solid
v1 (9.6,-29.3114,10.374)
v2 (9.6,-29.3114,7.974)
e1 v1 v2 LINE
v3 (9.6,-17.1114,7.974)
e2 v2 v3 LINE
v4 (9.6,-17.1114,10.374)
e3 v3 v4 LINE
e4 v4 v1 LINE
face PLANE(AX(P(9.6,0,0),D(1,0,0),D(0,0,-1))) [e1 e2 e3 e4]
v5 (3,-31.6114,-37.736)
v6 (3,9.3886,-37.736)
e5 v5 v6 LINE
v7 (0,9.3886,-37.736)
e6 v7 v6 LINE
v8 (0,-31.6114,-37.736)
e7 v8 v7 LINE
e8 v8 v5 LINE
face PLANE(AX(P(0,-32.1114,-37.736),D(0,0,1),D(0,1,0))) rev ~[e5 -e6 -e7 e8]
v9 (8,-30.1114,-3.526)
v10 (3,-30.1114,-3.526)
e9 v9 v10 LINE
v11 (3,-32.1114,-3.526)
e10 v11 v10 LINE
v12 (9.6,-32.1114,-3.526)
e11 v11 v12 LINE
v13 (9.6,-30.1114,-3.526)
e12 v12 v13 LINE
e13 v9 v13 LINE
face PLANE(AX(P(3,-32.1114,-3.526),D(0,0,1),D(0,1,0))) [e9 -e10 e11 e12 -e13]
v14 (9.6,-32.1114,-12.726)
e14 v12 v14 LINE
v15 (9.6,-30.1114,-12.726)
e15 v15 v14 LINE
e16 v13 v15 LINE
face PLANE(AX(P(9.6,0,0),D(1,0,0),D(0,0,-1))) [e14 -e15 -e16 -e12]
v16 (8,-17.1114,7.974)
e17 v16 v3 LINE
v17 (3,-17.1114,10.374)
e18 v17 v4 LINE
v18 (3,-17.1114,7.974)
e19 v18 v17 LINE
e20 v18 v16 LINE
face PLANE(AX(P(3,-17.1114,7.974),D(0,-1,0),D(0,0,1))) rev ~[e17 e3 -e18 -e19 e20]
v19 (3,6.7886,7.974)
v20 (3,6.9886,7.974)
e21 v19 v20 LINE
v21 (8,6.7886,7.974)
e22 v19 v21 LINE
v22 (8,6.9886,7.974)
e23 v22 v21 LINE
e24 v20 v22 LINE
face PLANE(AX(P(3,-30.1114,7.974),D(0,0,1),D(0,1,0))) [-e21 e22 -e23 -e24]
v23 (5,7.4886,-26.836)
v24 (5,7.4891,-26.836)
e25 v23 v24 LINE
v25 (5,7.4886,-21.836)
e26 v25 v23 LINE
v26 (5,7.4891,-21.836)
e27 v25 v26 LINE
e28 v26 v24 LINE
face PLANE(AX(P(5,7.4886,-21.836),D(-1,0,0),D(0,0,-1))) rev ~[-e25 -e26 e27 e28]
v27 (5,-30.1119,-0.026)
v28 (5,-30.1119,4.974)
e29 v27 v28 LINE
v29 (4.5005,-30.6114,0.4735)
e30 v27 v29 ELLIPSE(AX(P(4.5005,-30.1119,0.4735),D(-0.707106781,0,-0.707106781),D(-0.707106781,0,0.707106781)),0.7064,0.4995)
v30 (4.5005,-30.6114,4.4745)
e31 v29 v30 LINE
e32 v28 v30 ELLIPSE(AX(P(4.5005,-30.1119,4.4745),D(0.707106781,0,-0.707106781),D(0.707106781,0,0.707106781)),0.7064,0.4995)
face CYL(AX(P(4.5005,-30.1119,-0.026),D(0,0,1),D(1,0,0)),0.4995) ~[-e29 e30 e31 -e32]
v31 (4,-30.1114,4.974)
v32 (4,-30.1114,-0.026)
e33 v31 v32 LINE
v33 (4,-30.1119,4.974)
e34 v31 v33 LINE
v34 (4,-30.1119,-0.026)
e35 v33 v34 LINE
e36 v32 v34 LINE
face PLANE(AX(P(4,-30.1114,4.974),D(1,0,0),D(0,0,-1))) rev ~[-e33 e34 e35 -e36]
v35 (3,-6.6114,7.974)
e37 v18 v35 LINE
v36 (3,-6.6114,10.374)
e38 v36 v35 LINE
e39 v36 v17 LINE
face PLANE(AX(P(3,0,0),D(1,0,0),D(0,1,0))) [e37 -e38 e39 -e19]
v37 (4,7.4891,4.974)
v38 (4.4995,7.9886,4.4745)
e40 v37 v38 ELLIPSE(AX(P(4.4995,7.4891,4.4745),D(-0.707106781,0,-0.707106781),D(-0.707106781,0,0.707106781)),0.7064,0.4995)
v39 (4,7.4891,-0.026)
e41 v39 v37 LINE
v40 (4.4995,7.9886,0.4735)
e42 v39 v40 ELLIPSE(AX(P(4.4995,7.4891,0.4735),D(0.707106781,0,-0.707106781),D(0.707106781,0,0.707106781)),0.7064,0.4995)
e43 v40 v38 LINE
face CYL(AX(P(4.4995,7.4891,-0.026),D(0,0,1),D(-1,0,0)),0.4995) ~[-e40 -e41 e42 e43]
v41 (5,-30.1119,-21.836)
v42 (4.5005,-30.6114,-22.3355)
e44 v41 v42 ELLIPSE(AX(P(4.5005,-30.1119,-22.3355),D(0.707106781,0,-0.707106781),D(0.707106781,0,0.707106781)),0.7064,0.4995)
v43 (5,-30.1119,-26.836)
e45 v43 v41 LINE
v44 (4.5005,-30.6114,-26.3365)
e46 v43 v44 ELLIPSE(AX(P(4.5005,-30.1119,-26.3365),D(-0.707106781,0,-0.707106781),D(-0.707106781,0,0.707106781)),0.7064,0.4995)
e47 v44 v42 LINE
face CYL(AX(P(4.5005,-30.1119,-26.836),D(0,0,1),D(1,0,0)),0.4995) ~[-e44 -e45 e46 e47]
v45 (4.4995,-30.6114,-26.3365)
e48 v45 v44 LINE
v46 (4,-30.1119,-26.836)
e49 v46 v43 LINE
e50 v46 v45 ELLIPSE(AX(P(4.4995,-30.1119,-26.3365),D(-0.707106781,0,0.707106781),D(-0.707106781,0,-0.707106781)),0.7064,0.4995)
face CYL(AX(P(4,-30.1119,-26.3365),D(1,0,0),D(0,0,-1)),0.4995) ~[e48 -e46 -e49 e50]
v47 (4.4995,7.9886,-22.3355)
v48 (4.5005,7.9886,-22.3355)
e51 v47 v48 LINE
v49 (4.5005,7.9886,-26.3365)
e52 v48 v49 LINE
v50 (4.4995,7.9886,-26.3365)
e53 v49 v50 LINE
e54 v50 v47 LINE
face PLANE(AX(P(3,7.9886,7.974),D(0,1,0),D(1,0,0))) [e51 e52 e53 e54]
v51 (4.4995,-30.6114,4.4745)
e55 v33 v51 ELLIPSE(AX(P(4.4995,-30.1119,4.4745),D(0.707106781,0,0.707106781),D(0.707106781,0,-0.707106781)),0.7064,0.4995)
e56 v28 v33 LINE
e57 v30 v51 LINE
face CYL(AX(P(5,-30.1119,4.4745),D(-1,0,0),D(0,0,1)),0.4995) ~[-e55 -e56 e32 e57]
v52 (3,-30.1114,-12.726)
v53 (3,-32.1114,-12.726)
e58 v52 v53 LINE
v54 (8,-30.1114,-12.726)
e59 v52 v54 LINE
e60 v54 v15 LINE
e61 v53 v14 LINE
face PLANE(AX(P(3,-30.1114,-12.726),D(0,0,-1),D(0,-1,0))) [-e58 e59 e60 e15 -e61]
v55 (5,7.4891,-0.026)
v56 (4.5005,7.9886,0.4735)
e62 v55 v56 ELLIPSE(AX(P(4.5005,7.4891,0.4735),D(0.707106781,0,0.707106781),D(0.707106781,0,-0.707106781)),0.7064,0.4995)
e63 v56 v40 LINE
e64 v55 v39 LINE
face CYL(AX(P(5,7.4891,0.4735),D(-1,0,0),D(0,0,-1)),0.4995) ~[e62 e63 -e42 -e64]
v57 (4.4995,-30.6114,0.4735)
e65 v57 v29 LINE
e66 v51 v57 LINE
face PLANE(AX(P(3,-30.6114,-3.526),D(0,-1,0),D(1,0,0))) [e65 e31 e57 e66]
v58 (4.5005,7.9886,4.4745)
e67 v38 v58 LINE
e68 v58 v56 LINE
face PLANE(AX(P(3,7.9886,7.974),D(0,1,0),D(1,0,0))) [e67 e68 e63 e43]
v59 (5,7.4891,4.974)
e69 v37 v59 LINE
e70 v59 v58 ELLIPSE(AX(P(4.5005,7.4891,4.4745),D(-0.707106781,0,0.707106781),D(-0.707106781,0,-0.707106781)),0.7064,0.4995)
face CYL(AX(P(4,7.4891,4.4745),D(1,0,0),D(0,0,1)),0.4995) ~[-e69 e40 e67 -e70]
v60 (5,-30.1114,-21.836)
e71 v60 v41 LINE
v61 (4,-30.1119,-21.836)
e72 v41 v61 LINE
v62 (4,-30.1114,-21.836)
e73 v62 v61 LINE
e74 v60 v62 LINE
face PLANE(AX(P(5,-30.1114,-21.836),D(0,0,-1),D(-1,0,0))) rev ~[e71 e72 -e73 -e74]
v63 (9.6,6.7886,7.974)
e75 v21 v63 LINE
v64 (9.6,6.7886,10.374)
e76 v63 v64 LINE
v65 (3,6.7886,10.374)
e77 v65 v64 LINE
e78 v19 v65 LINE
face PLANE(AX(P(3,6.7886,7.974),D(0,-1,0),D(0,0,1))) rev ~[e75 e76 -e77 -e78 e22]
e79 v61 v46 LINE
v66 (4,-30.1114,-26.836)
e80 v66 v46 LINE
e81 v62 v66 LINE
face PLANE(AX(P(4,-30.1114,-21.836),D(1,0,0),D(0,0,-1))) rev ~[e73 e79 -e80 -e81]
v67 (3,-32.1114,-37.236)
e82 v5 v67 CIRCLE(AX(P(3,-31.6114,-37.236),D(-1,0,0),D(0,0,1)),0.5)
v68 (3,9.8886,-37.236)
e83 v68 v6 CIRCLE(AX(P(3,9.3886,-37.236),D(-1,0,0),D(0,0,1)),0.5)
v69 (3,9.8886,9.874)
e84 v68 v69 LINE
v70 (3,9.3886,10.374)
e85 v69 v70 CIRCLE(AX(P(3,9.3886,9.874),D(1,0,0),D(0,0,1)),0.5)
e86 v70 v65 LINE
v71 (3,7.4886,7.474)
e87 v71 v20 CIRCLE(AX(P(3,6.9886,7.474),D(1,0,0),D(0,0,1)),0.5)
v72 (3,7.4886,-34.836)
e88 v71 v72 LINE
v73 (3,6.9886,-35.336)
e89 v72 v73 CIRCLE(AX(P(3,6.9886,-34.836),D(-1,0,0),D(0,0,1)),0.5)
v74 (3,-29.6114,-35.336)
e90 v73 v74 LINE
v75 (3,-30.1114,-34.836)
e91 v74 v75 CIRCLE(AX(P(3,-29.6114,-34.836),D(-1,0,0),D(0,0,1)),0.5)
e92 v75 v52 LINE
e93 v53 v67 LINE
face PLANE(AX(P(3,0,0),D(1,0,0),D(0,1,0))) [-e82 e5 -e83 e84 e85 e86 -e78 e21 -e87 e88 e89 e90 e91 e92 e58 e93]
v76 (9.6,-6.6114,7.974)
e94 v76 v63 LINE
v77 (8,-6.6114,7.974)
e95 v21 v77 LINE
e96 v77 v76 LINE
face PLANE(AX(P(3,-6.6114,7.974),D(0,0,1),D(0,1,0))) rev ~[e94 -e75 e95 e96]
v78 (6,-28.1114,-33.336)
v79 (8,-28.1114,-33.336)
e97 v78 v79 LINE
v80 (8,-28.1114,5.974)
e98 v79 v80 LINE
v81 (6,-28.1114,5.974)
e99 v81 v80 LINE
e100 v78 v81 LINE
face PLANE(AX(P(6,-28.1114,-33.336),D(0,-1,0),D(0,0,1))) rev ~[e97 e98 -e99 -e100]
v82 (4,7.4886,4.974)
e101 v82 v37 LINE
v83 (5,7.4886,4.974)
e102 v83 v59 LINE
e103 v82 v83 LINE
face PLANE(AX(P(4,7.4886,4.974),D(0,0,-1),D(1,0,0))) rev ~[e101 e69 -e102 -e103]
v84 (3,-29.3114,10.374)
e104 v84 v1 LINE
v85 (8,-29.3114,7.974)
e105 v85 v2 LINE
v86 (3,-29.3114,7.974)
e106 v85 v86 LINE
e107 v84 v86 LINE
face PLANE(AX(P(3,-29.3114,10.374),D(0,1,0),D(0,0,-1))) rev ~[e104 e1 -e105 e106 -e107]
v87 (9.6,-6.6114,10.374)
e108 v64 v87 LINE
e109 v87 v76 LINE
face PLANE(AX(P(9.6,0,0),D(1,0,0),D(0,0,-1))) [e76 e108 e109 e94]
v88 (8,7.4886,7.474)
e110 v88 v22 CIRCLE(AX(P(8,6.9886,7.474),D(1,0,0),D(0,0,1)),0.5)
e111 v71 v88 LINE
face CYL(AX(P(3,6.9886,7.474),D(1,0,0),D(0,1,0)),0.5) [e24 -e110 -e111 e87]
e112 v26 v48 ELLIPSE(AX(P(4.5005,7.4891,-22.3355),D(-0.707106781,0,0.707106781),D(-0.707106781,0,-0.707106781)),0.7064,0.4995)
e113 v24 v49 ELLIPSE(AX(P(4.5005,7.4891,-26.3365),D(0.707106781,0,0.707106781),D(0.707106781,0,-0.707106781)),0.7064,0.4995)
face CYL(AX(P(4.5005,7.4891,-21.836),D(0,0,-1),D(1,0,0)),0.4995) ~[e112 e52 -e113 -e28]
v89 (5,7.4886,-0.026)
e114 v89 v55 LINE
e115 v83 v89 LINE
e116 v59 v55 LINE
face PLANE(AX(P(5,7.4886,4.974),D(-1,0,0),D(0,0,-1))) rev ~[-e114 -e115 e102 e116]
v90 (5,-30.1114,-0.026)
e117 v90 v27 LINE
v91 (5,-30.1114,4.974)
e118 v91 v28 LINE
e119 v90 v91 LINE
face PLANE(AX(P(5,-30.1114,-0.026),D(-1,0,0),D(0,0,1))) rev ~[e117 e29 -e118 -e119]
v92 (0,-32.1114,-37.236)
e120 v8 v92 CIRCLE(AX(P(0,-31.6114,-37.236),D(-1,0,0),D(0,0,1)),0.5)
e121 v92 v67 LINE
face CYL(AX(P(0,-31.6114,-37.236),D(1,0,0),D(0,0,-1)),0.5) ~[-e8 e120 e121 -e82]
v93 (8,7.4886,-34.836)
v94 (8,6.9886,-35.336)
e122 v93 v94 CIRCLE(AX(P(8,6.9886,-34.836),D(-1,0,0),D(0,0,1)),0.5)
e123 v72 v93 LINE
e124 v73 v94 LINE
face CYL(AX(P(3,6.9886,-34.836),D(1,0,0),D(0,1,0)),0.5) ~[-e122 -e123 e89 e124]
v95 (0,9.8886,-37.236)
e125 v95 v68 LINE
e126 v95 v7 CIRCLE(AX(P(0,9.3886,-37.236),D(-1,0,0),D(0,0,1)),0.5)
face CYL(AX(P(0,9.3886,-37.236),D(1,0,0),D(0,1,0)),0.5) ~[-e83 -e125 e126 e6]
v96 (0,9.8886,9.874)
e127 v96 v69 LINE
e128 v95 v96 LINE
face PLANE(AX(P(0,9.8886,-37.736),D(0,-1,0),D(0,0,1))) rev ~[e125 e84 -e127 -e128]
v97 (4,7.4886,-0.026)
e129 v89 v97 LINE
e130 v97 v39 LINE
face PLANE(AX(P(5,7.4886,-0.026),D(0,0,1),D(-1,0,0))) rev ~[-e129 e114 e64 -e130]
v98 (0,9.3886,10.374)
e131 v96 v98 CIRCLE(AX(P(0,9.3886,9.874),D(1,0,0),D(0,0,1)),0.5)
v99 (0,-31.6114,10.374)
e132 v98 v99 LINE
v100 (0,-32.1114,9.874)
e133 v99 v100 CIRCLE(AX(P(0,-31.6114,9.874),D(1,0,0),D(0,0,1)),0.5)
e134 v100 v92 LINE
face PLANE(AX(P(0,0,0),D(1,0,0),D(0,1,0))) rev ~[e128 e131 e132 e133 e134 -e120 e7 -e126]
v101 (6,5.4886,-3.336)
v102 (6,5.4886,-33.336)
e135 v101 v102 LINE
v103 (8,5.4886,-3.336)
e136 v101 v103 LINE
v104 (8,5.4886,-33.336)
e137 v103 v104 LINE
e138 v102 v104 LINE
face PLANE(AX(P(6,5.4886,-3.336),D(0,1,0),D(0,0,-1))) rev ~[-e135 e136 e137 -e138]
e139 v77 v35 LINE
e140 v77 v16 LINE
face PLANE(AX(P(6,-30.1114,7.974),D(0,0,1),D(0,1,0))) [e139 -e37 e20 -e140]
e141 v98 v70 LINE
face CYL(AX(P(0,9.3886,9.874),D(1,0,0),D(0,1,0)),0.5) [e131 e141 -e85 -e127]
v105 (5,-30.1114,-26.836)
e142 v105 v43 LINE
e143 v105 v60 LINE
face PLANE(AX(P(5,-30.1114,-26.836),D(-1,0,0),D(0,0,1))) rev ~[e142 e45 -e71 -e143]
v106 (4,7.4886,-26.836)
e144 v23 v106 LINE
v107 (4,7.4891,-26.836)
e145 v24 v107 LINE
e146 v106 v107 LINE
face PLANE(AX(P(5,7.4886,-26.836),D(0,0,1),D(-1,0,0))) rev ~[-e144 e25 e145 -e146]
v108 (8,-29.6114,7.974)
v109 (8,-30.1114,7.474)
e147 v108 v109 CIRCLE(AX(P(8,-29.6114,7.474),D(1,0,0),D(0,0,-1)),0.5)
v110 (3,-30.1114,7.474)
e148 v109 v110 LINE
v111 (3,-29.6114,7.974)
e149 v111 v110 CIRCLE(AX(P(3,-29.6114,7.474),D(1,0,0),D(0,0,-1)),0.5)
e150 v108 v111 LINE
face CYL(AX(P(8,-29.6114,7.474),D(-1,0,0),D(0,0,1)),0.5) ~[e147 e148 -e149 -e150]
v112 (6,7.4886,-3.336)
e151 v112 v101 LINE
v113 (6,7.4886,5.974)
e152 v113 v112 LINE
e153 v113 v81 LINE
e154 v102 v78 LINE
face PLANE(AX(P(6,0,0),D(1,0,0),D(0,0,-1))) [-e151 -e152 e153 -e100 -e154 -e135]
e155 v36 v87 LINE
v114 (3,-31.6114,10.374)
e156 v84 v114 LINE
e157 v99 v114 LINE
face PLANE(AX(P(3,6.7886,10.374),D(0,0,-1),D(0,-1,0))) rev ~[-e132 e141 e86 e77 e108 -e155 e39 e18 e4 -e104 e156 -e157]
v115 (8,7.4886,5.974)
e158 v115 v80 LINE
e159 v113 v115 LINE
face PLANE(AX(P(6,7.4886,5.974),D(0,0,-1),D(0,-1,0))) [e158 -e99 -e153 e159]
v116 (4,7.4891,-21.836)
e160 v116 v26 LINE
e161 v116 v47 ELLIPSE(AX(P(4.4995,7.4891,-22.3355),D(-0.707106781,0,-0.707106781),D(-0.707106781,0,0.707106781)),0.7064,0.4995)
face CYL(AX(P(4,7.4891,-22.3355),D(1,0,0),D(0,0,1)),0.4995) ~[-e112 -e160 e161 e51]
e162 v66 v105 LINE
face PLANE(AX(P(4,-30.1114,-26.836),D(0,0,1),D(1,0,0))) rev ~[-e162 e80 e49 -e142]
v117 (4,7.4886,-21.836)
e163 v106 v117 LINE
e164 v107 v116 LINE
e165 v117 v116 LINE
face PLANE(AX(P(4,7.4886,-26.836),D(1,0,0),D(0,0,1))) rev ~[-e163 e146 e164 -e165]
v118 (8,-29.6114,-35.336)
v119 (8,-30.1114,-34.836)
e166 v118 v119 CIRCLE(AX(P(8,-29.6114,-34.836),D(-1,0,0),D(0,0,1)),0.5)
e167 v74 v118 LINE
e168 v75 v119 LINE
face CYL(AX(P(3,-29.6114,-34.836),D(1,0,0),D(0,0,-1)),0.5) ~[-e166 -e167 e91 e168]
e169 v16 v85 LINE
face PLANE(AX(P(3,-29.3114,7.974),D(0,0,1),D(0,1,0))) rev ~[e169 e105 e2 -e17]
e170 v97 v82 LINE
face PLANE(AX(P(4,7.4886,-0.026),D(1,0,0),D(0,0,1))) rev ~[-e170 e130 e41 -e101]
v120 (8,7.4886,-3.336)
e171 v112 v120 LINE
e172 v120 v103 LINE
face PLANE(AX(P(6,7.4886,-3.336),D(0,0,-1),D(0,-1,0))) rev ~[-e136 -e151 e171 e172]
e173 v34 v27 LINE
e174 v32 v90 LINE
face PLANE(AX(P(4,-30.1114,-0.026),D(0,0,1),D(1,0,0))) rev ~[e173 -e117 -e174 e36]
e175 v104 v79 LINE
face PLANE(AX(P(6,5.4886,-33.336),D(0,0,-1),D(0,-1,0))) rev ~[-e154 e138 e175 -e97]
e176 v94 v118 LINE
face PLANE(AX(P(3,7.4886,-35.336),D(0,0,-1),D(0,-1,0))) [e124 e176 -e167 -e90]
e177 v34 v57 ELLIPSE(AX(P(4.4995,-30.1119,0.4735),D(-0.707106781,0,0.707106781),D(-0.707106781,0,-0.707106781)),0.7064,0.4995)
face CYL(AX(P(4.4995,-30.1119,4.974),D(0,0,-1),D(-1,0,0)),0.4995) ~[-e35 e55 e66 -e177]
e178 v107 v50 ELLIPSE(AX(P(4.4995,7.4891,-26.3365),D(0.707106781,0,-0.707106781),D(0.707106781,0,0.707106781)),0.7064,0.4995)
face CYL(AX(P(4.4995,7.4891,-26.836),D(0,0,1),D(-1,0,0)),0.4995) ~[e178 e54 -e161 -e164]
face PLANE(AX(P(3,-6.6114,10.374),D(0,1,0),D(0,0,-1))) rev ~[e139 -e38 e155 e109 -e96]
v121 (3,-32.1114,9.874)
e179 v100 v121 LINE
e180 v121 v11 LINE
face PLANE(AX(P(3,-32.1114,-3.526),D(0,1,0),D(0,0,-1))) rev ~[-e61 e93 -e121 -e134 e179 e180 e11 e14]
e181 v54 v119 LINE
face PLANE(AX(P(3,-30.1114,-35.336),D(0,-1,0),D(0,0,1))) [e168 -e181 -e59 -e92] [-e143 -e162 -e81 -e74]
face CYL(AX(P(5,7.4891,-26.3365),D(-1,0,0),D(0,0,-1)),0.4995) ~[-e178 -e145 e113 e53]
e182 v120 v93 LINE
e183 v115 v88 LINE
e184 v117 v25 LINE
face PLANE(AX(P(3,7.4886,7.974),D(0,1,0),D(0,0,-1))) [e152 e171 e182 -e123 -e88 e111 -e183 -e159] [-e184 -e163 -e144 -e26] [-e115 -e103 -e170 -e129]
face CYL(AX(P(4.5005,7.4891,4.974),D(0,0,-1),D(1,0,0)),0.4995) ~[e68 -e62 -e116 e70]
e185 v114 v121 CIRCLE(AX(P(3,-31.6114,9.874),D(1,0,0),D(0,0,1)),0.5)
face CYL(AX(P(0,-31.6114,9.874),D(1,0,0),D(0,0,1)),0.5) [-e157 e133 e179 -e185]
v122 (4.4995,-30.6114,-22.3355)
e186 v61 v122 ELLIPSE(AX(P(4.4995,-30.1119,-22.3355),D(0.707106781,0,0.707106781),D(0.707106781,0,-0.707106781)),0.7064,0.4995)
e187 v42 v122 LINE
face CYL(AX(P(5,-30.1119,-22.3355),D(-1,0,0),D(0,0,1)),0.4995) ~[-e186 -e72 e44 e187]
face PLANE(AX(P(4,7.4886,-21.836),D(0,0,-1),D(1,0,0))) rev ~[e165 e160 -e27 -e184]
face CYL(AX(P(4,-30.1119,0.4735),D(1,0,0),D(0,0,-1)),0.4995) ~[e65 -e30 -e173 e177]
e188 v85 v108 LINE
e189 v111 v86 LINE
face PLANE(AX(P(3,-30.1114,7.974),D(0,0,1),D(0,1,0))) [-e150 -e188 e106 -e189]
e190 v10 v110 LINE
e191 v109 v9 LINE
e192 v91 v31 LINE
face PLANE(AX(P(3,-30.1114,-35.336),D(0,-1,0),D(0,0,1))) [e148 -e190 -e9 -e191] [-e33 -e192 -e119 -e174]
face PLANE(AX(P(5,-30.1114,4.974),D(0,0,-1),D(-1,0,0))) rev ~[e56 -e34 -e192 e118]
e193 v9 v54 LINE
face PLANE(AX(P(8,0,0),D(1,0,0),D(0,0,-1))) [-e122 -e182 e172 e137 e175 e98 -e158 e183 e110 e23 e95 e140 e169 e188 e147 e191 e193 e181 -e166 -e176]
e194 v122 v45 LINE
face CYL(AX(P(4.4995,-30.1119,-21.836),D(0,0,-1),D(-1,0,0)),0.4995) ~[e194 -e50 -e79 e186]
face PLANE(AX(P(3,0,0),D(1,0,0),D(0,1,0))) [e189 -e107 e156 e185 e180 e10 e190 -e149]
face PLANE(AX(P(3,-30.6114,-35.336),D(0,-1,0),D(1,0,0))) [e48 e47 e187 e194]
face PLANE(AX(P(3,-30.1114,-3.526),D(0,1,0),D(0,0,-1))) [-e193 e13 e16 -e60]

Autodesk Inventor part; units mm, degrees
ref_plane "YZ Plane" through (0, 0, 0) normal (1, 0, 0) x (0, 1, 0)
ref_plane "XZ Plane" through (0, 0, 0) normal (0, 1, 0) x (-1, 0, 0)
ref_plane "XY Plane" through (0, 0, 0) normal (0, 0, 1) x (1, 0, 0)
sketch "Sketch1" plane through (0, 0, 0) normal (1, 0, 0) x (0, 1, 0)
  line L0 (9.8886, 10.374) -> (-32.1114, 10.374)
  line L1 (-32.1114, 10.374) -> (-32.1114, -37.736)
  line L2 (-32.1114, -37.736) -> (9.8886, -37.736)
  line L3 (9.8886, -37.736) -> (9.8886, 10.374)
  point P0 (0, 0)
  dimension "d0" = 42
  dimension "d1" = 48.11
extrude "Extrusion1" add sketch "Sketch1" along normal blind 3
sketch "Sketch2" plane through (3, 0, 0) normal (1, 0, 0) x (0, 0, -1)
  line L0 (-7.974, 7.4886) -> (35.336, 7.4886)
  line L1 (35.336, 7.4886) -> (35.336, -30.1114)
  line L2 (35.336, -30.1114) -> (-7.974, -30.1114)
  line L3 (-7.974, -30.1114) -> (-7.974, 7.4886)
  line L4 (37.736, 9.8886) -> (-10.374, 9.8886) projected
  line L5 (-10.374, 9.8886) -> (-10.374, -32.1114) projected
  line L6 (-10.374, -32.1114) -> (37.736, -32.1114) projected
  point P0 (0, 0)
  dimension "d4" = 43.31
  dimension "d6" = 2.4
  dimension "d7" = 2.4
  dimension "d20" = 2
extrude "Extrusion2" add sketch "Sketch2" along normal blind 3
fillet "Fillet1" radius 0.5 4 edges at (1.5, 9.8886, 10.374) (1.5, 9.8886, -37.736) (1.5, -32.1114, 10.374) (1.5, -32.1114, -37.736)
sketch "Sketch3" plane through (3, 0, 0) normal (1, 0, 0) x (0, 0, -1)
  line L0 (-10.374, 9.3886) -> (-10.374, -31.6114) projected
  line L1 (-7.974, -30.1114) -> (-7.974, 7.4886) projected
  line L2 (-10.374, -29.3114) -> (-7.974, -29.3114)
  line L3 (-7.974, -29.3114) -> (-7.974, -17.1114)
  line L4 (-7.974, -17.1114) -> (-10.374, -17.1114)
  line L5 (-10.374, -17.1114) -> (-10.374, -29.3114)
  line L6 (-9.874, -32.1114) -> (37.236, -32.1114) projected
  point P0 (0, 0)
  point P1 (-7.974, -29.6114)
  point P2 (-7.974, 6.9886)
  point P3 (-7.974, -29.3114)
  dimension "d12" = 12.2
  dimension "d13" = 2.8
extrude "PowerSocket" add sketch "Sketch3" along normal blind 6.6
sketch "Sketch5" plane through (3, 0, 0) normal (1, 0, 0) x (0, 0, -1)
  line L0 (-10.374, 9.3886) -> (-10.374, -17.1114) projected
  line L1 (-7.974, -17.1114) -> (-7.974, 7.4886) projected
  line L2 (-10.374, -6.6114) -> (-7.974, -6.6114)
  line L3 (-7.974, -6.6114) -> (-7.974, 6.7886)
  line L4 (-7.974, 6.7886) -> (-10.374, 6.7886)
  line L5 (-10.374, 6.7886) -> (-10.374, -6.6114)
  line L6 (-7.974, -17.1114) -> (-10.374, -17.1114) projected
  line L7 (35.336, 7.4886) -> (-7.974, 7.4886) projected
  line L8 (37.236, 9.8886) -> (-9.874, 9.8886) projected
  point P0 (0, 0)
  point P1 (-10.374, 6.7886)
  point P2 (-7.974, -6.6114)
  dimension "d21" = 13.4
  dimension "d75" = 3.1
extrude "RJ-12" add sketch "Sketch5" along normal blind 6.6 contours L4 L1 L2 L0
sketch "Sketch6" plane through (3, 0, 0) normal (1, 0, 0) x (0, 0, -1)
  line L0 (-9.874, -32.1114) -> (37.236, -32.1114) projected
  line L1 (-7.974, -30.1114) -> (35.336, -30.1114) projected
  line L2 (12.726, -32.1114) -> (3.526, -32.1114)
  line L3 (3.526, -32.1114) -> (3.526, -30.1114)
  line L4 (3.526, -30.1114) -> (12.726, -30.1114)
  line L5 (12.726, -30.1114) -> (12.726, -32.1114)
  line L6 (-10.374, -29.3114) -> (-10.374, -31.6114) projected
  point P0 (0, 0)
  dimension "d25" = 9.2
  dimension "d26" = 13.9
extrude "USB-C" add sketch "Sketch6" along normal blind 6.6
sketch "Sketch7" plane through (6, 0, 0) normal (1, 0, 0) x (0, 0, -1)
  line L0 (35.336, 7.4886) -> (-7.974, 7.4886) projected
  line L1 (-7.974, 7.4886) -> (-5.974, 7.4886)
  line L2 (-5.974, 7.4886) -> (-5.974, -30.1114)
  line L3 (-7.974, -30.1114) -> (3.526, -30.1114) projected
  line L4 (-5.974, -30.1114) -> (-7.974, -30.1114)
  line L5 (-10.374, -29.3114) -> (-10.374, -31.6114) projected
  line L6 (-7.974, 7.4886) -> (-7.974, -17.1114) projected
  line L7 (-7.974, -30.1114) -> (-7.974, 7.4886)
  line L8 (35.336, -30.1114) -> (12.726, -30.1114) projected
  line L9 (-5.974, -30.1114) -> (35.336, -30.1114)
  line L10 (35.336, -30.1114) -> (35.336, -28.1114)
  line L11 (35.336, 7.4886) -> (35.336, -30.1114) projected
  line L12 (35.336, -28.1114) -> (-5.974, -28.1114)
  line L13 (35.336, -28.1114) -> (35.336, 7.4886)
  line L14 (35.336, 7.4886) -> (33.336, 7.4886)
  line L15 (33.336, 7.4886) -> (33.336, -28.1114)
  line L16 (33.336, 7.4886) -> (3.336, 7.4886)
  line L17 (3.336, 7.4886) -> (3.336, 5.4886)
  line L18 (3.336, 5.4886) -> (33.336, 5.4886)
  point P0 (0, 0)
  point P1 (-7.974, 6.7886)
  point P2 (-7.974, 6.6886)
  dimension "d29" = 2
  dimension "d30" = 2
  dimension "d31" = 2
  dimension "d32" = 2
  dimension "d33" = 30
  dimension "d34" = 2
extrude "Extrusion7" add sketch "Sketch7" along normal blind 2 contours L11 L12 L15 L0 | L15 L18 L17 L0 | L10 L8 L9 L3 L2 L12 | L2 L3 L7 L6 L0
sketch "Sketch8" plane through (3, -30.1114, -3.526) normal (0, -1, 0) x (1, 0, 0)
  line L0 (2, 8.5) -> (1, 8.5)
  line L1 (1, 8.5) -> (1, 3.5)
  line L2 (1, 3.5) -> (2, 3.5)
  line L3 (2, 3.5) -> (2, 8.5)
  line L4 (0, 11.5) -> (5, 11.5) projected
  line L5 (5, 11.5) -> (5, 0) projected
  line L6 (0, 13.4) -> (0, 0) projected
  point P0 (-3, 3.526)
  point P1 (2, 6)
  dimension "d37" = 1
  dimension "d38" = 5
  dimension "d39" = 5.5
  dimension "d60" = 1
extrude "Extrusion8" add sketch "Sketch8" along normal blind 0.5
fillet "Fillet3" radius 0.5 4 edges at (5, -30.6114, 2.474) (4, -30.6114, 2.474) (4.5, -30.6114, 4.974) (4.5, -30.6114, -0.026)
sketch "Sketch9" plane through (3, -30.1114, -35.336) normal (0, -1, 0) x (1, 0, 0)
  line L0 (2, 13.5) -> (1, 13.5)
  line L1 (1, 13.5) -> (1, 8.5)
  line L2 (1, 8.5) -> (2, 8.5)
  line L3 (2, 8.5) -> (2, 13.5)
  line L4 (5, 22.61) -> (5, 0) projected
  line L5 (0, 0) -> (5, 0) projected
  line L6 (0, 22.61) -> (0, -1.9) projected
  point P0 (-3, 35.336)
  point P1 (2, 11)
  dimension "d44" = 1
  dimension "d45" = 5
  dimension "d47" = 11
  dimension "d59" = 1
extrude "Extrusion9" add sketch "Sketch9" along normal blind 0.5
fillet "Fillet4" radius 0.5 4 edges at (5, -30.6114, -24.336) (4, -30.6114, -24.336) (4.5, -30.6114, -21.836) (4.5, -30.6114, -26.836)
sketch "Sketch10" plane through (3, 7.4886, 7.974) normal (0, 1, 0) x (1, 0, 0)
  line L0 (2, 34.81) -> (1, 34.81)
  line L1 (1, 34.81) -> (1, 29.81)
  line L2 (1, 29.81) -> (2, 29.81)
  line L3 (2, 29.81) -> (2, 34.81)
  line L4 (5, 43.31) -> (5, 11.31) projected
  line L5 (0, 43.31) -> (5, 43.31) projected
  line L6 (0, 45.21) -> (0, -1.9) projected
  point P0 (-3, 7.974)
  point P1 (2, 32.31)
  dimension "d51" = 1
  dimension "d52" = 5
  dimension "d54" = 11
  dimension "d58" = 1
extrude "Extrusion10" add sketch "Sketch10" along normal blind 0.5
fillet "Fillet5" radius 0.5 4 edges at (5, 7.9886, -24.336) (4, 7.9886, -24.336) (4.5, 7.9886, -26.836) (4.5, 7.9886, -21.836)
sketch "Sketch11" plane through (3, 7.4886, 7.974) normal (0, 1, 0) x (1, 0, 0)
  line L0 (2, 8) -> (1, 8)
  line L1 (1, 8) -> (1, 3)
  line L2 (1, 3) -> (2, 3)
  line L3 (2, 3) -> (2, 8)
  line L4 (0, 45.21) -> (0, -1.9) projected
  line L5 (0, 0) -> (5, 0) projected
  point P0 (-3, 7.974)
  point P1 (1, 5.5)
  dimension "d61" = 1
  dimension "d62" = 5
  dimension "d63" = 1
  dimension "d64" = 5.5
extrude "Extrusion11" add sketch "Sketch11" along normal blind 0.5
fillet "Fillet6" radius 0.5 4 edges at (5, 7.9886, 2.474) (4, 7.9886, 2.474) (4.5, 7.9886, 4.974) (4.5, 7.9886, -0.026)
fillet "Fillet7" radius 0.5 4 edges at (5.5, -30.1114, -35.336) (5.5, 7.4886, -35.336) (5.5, 7.4886, 7.974) (5.5, -30.1114, 7.974)
properties part number "Enclosure_Bottom"
